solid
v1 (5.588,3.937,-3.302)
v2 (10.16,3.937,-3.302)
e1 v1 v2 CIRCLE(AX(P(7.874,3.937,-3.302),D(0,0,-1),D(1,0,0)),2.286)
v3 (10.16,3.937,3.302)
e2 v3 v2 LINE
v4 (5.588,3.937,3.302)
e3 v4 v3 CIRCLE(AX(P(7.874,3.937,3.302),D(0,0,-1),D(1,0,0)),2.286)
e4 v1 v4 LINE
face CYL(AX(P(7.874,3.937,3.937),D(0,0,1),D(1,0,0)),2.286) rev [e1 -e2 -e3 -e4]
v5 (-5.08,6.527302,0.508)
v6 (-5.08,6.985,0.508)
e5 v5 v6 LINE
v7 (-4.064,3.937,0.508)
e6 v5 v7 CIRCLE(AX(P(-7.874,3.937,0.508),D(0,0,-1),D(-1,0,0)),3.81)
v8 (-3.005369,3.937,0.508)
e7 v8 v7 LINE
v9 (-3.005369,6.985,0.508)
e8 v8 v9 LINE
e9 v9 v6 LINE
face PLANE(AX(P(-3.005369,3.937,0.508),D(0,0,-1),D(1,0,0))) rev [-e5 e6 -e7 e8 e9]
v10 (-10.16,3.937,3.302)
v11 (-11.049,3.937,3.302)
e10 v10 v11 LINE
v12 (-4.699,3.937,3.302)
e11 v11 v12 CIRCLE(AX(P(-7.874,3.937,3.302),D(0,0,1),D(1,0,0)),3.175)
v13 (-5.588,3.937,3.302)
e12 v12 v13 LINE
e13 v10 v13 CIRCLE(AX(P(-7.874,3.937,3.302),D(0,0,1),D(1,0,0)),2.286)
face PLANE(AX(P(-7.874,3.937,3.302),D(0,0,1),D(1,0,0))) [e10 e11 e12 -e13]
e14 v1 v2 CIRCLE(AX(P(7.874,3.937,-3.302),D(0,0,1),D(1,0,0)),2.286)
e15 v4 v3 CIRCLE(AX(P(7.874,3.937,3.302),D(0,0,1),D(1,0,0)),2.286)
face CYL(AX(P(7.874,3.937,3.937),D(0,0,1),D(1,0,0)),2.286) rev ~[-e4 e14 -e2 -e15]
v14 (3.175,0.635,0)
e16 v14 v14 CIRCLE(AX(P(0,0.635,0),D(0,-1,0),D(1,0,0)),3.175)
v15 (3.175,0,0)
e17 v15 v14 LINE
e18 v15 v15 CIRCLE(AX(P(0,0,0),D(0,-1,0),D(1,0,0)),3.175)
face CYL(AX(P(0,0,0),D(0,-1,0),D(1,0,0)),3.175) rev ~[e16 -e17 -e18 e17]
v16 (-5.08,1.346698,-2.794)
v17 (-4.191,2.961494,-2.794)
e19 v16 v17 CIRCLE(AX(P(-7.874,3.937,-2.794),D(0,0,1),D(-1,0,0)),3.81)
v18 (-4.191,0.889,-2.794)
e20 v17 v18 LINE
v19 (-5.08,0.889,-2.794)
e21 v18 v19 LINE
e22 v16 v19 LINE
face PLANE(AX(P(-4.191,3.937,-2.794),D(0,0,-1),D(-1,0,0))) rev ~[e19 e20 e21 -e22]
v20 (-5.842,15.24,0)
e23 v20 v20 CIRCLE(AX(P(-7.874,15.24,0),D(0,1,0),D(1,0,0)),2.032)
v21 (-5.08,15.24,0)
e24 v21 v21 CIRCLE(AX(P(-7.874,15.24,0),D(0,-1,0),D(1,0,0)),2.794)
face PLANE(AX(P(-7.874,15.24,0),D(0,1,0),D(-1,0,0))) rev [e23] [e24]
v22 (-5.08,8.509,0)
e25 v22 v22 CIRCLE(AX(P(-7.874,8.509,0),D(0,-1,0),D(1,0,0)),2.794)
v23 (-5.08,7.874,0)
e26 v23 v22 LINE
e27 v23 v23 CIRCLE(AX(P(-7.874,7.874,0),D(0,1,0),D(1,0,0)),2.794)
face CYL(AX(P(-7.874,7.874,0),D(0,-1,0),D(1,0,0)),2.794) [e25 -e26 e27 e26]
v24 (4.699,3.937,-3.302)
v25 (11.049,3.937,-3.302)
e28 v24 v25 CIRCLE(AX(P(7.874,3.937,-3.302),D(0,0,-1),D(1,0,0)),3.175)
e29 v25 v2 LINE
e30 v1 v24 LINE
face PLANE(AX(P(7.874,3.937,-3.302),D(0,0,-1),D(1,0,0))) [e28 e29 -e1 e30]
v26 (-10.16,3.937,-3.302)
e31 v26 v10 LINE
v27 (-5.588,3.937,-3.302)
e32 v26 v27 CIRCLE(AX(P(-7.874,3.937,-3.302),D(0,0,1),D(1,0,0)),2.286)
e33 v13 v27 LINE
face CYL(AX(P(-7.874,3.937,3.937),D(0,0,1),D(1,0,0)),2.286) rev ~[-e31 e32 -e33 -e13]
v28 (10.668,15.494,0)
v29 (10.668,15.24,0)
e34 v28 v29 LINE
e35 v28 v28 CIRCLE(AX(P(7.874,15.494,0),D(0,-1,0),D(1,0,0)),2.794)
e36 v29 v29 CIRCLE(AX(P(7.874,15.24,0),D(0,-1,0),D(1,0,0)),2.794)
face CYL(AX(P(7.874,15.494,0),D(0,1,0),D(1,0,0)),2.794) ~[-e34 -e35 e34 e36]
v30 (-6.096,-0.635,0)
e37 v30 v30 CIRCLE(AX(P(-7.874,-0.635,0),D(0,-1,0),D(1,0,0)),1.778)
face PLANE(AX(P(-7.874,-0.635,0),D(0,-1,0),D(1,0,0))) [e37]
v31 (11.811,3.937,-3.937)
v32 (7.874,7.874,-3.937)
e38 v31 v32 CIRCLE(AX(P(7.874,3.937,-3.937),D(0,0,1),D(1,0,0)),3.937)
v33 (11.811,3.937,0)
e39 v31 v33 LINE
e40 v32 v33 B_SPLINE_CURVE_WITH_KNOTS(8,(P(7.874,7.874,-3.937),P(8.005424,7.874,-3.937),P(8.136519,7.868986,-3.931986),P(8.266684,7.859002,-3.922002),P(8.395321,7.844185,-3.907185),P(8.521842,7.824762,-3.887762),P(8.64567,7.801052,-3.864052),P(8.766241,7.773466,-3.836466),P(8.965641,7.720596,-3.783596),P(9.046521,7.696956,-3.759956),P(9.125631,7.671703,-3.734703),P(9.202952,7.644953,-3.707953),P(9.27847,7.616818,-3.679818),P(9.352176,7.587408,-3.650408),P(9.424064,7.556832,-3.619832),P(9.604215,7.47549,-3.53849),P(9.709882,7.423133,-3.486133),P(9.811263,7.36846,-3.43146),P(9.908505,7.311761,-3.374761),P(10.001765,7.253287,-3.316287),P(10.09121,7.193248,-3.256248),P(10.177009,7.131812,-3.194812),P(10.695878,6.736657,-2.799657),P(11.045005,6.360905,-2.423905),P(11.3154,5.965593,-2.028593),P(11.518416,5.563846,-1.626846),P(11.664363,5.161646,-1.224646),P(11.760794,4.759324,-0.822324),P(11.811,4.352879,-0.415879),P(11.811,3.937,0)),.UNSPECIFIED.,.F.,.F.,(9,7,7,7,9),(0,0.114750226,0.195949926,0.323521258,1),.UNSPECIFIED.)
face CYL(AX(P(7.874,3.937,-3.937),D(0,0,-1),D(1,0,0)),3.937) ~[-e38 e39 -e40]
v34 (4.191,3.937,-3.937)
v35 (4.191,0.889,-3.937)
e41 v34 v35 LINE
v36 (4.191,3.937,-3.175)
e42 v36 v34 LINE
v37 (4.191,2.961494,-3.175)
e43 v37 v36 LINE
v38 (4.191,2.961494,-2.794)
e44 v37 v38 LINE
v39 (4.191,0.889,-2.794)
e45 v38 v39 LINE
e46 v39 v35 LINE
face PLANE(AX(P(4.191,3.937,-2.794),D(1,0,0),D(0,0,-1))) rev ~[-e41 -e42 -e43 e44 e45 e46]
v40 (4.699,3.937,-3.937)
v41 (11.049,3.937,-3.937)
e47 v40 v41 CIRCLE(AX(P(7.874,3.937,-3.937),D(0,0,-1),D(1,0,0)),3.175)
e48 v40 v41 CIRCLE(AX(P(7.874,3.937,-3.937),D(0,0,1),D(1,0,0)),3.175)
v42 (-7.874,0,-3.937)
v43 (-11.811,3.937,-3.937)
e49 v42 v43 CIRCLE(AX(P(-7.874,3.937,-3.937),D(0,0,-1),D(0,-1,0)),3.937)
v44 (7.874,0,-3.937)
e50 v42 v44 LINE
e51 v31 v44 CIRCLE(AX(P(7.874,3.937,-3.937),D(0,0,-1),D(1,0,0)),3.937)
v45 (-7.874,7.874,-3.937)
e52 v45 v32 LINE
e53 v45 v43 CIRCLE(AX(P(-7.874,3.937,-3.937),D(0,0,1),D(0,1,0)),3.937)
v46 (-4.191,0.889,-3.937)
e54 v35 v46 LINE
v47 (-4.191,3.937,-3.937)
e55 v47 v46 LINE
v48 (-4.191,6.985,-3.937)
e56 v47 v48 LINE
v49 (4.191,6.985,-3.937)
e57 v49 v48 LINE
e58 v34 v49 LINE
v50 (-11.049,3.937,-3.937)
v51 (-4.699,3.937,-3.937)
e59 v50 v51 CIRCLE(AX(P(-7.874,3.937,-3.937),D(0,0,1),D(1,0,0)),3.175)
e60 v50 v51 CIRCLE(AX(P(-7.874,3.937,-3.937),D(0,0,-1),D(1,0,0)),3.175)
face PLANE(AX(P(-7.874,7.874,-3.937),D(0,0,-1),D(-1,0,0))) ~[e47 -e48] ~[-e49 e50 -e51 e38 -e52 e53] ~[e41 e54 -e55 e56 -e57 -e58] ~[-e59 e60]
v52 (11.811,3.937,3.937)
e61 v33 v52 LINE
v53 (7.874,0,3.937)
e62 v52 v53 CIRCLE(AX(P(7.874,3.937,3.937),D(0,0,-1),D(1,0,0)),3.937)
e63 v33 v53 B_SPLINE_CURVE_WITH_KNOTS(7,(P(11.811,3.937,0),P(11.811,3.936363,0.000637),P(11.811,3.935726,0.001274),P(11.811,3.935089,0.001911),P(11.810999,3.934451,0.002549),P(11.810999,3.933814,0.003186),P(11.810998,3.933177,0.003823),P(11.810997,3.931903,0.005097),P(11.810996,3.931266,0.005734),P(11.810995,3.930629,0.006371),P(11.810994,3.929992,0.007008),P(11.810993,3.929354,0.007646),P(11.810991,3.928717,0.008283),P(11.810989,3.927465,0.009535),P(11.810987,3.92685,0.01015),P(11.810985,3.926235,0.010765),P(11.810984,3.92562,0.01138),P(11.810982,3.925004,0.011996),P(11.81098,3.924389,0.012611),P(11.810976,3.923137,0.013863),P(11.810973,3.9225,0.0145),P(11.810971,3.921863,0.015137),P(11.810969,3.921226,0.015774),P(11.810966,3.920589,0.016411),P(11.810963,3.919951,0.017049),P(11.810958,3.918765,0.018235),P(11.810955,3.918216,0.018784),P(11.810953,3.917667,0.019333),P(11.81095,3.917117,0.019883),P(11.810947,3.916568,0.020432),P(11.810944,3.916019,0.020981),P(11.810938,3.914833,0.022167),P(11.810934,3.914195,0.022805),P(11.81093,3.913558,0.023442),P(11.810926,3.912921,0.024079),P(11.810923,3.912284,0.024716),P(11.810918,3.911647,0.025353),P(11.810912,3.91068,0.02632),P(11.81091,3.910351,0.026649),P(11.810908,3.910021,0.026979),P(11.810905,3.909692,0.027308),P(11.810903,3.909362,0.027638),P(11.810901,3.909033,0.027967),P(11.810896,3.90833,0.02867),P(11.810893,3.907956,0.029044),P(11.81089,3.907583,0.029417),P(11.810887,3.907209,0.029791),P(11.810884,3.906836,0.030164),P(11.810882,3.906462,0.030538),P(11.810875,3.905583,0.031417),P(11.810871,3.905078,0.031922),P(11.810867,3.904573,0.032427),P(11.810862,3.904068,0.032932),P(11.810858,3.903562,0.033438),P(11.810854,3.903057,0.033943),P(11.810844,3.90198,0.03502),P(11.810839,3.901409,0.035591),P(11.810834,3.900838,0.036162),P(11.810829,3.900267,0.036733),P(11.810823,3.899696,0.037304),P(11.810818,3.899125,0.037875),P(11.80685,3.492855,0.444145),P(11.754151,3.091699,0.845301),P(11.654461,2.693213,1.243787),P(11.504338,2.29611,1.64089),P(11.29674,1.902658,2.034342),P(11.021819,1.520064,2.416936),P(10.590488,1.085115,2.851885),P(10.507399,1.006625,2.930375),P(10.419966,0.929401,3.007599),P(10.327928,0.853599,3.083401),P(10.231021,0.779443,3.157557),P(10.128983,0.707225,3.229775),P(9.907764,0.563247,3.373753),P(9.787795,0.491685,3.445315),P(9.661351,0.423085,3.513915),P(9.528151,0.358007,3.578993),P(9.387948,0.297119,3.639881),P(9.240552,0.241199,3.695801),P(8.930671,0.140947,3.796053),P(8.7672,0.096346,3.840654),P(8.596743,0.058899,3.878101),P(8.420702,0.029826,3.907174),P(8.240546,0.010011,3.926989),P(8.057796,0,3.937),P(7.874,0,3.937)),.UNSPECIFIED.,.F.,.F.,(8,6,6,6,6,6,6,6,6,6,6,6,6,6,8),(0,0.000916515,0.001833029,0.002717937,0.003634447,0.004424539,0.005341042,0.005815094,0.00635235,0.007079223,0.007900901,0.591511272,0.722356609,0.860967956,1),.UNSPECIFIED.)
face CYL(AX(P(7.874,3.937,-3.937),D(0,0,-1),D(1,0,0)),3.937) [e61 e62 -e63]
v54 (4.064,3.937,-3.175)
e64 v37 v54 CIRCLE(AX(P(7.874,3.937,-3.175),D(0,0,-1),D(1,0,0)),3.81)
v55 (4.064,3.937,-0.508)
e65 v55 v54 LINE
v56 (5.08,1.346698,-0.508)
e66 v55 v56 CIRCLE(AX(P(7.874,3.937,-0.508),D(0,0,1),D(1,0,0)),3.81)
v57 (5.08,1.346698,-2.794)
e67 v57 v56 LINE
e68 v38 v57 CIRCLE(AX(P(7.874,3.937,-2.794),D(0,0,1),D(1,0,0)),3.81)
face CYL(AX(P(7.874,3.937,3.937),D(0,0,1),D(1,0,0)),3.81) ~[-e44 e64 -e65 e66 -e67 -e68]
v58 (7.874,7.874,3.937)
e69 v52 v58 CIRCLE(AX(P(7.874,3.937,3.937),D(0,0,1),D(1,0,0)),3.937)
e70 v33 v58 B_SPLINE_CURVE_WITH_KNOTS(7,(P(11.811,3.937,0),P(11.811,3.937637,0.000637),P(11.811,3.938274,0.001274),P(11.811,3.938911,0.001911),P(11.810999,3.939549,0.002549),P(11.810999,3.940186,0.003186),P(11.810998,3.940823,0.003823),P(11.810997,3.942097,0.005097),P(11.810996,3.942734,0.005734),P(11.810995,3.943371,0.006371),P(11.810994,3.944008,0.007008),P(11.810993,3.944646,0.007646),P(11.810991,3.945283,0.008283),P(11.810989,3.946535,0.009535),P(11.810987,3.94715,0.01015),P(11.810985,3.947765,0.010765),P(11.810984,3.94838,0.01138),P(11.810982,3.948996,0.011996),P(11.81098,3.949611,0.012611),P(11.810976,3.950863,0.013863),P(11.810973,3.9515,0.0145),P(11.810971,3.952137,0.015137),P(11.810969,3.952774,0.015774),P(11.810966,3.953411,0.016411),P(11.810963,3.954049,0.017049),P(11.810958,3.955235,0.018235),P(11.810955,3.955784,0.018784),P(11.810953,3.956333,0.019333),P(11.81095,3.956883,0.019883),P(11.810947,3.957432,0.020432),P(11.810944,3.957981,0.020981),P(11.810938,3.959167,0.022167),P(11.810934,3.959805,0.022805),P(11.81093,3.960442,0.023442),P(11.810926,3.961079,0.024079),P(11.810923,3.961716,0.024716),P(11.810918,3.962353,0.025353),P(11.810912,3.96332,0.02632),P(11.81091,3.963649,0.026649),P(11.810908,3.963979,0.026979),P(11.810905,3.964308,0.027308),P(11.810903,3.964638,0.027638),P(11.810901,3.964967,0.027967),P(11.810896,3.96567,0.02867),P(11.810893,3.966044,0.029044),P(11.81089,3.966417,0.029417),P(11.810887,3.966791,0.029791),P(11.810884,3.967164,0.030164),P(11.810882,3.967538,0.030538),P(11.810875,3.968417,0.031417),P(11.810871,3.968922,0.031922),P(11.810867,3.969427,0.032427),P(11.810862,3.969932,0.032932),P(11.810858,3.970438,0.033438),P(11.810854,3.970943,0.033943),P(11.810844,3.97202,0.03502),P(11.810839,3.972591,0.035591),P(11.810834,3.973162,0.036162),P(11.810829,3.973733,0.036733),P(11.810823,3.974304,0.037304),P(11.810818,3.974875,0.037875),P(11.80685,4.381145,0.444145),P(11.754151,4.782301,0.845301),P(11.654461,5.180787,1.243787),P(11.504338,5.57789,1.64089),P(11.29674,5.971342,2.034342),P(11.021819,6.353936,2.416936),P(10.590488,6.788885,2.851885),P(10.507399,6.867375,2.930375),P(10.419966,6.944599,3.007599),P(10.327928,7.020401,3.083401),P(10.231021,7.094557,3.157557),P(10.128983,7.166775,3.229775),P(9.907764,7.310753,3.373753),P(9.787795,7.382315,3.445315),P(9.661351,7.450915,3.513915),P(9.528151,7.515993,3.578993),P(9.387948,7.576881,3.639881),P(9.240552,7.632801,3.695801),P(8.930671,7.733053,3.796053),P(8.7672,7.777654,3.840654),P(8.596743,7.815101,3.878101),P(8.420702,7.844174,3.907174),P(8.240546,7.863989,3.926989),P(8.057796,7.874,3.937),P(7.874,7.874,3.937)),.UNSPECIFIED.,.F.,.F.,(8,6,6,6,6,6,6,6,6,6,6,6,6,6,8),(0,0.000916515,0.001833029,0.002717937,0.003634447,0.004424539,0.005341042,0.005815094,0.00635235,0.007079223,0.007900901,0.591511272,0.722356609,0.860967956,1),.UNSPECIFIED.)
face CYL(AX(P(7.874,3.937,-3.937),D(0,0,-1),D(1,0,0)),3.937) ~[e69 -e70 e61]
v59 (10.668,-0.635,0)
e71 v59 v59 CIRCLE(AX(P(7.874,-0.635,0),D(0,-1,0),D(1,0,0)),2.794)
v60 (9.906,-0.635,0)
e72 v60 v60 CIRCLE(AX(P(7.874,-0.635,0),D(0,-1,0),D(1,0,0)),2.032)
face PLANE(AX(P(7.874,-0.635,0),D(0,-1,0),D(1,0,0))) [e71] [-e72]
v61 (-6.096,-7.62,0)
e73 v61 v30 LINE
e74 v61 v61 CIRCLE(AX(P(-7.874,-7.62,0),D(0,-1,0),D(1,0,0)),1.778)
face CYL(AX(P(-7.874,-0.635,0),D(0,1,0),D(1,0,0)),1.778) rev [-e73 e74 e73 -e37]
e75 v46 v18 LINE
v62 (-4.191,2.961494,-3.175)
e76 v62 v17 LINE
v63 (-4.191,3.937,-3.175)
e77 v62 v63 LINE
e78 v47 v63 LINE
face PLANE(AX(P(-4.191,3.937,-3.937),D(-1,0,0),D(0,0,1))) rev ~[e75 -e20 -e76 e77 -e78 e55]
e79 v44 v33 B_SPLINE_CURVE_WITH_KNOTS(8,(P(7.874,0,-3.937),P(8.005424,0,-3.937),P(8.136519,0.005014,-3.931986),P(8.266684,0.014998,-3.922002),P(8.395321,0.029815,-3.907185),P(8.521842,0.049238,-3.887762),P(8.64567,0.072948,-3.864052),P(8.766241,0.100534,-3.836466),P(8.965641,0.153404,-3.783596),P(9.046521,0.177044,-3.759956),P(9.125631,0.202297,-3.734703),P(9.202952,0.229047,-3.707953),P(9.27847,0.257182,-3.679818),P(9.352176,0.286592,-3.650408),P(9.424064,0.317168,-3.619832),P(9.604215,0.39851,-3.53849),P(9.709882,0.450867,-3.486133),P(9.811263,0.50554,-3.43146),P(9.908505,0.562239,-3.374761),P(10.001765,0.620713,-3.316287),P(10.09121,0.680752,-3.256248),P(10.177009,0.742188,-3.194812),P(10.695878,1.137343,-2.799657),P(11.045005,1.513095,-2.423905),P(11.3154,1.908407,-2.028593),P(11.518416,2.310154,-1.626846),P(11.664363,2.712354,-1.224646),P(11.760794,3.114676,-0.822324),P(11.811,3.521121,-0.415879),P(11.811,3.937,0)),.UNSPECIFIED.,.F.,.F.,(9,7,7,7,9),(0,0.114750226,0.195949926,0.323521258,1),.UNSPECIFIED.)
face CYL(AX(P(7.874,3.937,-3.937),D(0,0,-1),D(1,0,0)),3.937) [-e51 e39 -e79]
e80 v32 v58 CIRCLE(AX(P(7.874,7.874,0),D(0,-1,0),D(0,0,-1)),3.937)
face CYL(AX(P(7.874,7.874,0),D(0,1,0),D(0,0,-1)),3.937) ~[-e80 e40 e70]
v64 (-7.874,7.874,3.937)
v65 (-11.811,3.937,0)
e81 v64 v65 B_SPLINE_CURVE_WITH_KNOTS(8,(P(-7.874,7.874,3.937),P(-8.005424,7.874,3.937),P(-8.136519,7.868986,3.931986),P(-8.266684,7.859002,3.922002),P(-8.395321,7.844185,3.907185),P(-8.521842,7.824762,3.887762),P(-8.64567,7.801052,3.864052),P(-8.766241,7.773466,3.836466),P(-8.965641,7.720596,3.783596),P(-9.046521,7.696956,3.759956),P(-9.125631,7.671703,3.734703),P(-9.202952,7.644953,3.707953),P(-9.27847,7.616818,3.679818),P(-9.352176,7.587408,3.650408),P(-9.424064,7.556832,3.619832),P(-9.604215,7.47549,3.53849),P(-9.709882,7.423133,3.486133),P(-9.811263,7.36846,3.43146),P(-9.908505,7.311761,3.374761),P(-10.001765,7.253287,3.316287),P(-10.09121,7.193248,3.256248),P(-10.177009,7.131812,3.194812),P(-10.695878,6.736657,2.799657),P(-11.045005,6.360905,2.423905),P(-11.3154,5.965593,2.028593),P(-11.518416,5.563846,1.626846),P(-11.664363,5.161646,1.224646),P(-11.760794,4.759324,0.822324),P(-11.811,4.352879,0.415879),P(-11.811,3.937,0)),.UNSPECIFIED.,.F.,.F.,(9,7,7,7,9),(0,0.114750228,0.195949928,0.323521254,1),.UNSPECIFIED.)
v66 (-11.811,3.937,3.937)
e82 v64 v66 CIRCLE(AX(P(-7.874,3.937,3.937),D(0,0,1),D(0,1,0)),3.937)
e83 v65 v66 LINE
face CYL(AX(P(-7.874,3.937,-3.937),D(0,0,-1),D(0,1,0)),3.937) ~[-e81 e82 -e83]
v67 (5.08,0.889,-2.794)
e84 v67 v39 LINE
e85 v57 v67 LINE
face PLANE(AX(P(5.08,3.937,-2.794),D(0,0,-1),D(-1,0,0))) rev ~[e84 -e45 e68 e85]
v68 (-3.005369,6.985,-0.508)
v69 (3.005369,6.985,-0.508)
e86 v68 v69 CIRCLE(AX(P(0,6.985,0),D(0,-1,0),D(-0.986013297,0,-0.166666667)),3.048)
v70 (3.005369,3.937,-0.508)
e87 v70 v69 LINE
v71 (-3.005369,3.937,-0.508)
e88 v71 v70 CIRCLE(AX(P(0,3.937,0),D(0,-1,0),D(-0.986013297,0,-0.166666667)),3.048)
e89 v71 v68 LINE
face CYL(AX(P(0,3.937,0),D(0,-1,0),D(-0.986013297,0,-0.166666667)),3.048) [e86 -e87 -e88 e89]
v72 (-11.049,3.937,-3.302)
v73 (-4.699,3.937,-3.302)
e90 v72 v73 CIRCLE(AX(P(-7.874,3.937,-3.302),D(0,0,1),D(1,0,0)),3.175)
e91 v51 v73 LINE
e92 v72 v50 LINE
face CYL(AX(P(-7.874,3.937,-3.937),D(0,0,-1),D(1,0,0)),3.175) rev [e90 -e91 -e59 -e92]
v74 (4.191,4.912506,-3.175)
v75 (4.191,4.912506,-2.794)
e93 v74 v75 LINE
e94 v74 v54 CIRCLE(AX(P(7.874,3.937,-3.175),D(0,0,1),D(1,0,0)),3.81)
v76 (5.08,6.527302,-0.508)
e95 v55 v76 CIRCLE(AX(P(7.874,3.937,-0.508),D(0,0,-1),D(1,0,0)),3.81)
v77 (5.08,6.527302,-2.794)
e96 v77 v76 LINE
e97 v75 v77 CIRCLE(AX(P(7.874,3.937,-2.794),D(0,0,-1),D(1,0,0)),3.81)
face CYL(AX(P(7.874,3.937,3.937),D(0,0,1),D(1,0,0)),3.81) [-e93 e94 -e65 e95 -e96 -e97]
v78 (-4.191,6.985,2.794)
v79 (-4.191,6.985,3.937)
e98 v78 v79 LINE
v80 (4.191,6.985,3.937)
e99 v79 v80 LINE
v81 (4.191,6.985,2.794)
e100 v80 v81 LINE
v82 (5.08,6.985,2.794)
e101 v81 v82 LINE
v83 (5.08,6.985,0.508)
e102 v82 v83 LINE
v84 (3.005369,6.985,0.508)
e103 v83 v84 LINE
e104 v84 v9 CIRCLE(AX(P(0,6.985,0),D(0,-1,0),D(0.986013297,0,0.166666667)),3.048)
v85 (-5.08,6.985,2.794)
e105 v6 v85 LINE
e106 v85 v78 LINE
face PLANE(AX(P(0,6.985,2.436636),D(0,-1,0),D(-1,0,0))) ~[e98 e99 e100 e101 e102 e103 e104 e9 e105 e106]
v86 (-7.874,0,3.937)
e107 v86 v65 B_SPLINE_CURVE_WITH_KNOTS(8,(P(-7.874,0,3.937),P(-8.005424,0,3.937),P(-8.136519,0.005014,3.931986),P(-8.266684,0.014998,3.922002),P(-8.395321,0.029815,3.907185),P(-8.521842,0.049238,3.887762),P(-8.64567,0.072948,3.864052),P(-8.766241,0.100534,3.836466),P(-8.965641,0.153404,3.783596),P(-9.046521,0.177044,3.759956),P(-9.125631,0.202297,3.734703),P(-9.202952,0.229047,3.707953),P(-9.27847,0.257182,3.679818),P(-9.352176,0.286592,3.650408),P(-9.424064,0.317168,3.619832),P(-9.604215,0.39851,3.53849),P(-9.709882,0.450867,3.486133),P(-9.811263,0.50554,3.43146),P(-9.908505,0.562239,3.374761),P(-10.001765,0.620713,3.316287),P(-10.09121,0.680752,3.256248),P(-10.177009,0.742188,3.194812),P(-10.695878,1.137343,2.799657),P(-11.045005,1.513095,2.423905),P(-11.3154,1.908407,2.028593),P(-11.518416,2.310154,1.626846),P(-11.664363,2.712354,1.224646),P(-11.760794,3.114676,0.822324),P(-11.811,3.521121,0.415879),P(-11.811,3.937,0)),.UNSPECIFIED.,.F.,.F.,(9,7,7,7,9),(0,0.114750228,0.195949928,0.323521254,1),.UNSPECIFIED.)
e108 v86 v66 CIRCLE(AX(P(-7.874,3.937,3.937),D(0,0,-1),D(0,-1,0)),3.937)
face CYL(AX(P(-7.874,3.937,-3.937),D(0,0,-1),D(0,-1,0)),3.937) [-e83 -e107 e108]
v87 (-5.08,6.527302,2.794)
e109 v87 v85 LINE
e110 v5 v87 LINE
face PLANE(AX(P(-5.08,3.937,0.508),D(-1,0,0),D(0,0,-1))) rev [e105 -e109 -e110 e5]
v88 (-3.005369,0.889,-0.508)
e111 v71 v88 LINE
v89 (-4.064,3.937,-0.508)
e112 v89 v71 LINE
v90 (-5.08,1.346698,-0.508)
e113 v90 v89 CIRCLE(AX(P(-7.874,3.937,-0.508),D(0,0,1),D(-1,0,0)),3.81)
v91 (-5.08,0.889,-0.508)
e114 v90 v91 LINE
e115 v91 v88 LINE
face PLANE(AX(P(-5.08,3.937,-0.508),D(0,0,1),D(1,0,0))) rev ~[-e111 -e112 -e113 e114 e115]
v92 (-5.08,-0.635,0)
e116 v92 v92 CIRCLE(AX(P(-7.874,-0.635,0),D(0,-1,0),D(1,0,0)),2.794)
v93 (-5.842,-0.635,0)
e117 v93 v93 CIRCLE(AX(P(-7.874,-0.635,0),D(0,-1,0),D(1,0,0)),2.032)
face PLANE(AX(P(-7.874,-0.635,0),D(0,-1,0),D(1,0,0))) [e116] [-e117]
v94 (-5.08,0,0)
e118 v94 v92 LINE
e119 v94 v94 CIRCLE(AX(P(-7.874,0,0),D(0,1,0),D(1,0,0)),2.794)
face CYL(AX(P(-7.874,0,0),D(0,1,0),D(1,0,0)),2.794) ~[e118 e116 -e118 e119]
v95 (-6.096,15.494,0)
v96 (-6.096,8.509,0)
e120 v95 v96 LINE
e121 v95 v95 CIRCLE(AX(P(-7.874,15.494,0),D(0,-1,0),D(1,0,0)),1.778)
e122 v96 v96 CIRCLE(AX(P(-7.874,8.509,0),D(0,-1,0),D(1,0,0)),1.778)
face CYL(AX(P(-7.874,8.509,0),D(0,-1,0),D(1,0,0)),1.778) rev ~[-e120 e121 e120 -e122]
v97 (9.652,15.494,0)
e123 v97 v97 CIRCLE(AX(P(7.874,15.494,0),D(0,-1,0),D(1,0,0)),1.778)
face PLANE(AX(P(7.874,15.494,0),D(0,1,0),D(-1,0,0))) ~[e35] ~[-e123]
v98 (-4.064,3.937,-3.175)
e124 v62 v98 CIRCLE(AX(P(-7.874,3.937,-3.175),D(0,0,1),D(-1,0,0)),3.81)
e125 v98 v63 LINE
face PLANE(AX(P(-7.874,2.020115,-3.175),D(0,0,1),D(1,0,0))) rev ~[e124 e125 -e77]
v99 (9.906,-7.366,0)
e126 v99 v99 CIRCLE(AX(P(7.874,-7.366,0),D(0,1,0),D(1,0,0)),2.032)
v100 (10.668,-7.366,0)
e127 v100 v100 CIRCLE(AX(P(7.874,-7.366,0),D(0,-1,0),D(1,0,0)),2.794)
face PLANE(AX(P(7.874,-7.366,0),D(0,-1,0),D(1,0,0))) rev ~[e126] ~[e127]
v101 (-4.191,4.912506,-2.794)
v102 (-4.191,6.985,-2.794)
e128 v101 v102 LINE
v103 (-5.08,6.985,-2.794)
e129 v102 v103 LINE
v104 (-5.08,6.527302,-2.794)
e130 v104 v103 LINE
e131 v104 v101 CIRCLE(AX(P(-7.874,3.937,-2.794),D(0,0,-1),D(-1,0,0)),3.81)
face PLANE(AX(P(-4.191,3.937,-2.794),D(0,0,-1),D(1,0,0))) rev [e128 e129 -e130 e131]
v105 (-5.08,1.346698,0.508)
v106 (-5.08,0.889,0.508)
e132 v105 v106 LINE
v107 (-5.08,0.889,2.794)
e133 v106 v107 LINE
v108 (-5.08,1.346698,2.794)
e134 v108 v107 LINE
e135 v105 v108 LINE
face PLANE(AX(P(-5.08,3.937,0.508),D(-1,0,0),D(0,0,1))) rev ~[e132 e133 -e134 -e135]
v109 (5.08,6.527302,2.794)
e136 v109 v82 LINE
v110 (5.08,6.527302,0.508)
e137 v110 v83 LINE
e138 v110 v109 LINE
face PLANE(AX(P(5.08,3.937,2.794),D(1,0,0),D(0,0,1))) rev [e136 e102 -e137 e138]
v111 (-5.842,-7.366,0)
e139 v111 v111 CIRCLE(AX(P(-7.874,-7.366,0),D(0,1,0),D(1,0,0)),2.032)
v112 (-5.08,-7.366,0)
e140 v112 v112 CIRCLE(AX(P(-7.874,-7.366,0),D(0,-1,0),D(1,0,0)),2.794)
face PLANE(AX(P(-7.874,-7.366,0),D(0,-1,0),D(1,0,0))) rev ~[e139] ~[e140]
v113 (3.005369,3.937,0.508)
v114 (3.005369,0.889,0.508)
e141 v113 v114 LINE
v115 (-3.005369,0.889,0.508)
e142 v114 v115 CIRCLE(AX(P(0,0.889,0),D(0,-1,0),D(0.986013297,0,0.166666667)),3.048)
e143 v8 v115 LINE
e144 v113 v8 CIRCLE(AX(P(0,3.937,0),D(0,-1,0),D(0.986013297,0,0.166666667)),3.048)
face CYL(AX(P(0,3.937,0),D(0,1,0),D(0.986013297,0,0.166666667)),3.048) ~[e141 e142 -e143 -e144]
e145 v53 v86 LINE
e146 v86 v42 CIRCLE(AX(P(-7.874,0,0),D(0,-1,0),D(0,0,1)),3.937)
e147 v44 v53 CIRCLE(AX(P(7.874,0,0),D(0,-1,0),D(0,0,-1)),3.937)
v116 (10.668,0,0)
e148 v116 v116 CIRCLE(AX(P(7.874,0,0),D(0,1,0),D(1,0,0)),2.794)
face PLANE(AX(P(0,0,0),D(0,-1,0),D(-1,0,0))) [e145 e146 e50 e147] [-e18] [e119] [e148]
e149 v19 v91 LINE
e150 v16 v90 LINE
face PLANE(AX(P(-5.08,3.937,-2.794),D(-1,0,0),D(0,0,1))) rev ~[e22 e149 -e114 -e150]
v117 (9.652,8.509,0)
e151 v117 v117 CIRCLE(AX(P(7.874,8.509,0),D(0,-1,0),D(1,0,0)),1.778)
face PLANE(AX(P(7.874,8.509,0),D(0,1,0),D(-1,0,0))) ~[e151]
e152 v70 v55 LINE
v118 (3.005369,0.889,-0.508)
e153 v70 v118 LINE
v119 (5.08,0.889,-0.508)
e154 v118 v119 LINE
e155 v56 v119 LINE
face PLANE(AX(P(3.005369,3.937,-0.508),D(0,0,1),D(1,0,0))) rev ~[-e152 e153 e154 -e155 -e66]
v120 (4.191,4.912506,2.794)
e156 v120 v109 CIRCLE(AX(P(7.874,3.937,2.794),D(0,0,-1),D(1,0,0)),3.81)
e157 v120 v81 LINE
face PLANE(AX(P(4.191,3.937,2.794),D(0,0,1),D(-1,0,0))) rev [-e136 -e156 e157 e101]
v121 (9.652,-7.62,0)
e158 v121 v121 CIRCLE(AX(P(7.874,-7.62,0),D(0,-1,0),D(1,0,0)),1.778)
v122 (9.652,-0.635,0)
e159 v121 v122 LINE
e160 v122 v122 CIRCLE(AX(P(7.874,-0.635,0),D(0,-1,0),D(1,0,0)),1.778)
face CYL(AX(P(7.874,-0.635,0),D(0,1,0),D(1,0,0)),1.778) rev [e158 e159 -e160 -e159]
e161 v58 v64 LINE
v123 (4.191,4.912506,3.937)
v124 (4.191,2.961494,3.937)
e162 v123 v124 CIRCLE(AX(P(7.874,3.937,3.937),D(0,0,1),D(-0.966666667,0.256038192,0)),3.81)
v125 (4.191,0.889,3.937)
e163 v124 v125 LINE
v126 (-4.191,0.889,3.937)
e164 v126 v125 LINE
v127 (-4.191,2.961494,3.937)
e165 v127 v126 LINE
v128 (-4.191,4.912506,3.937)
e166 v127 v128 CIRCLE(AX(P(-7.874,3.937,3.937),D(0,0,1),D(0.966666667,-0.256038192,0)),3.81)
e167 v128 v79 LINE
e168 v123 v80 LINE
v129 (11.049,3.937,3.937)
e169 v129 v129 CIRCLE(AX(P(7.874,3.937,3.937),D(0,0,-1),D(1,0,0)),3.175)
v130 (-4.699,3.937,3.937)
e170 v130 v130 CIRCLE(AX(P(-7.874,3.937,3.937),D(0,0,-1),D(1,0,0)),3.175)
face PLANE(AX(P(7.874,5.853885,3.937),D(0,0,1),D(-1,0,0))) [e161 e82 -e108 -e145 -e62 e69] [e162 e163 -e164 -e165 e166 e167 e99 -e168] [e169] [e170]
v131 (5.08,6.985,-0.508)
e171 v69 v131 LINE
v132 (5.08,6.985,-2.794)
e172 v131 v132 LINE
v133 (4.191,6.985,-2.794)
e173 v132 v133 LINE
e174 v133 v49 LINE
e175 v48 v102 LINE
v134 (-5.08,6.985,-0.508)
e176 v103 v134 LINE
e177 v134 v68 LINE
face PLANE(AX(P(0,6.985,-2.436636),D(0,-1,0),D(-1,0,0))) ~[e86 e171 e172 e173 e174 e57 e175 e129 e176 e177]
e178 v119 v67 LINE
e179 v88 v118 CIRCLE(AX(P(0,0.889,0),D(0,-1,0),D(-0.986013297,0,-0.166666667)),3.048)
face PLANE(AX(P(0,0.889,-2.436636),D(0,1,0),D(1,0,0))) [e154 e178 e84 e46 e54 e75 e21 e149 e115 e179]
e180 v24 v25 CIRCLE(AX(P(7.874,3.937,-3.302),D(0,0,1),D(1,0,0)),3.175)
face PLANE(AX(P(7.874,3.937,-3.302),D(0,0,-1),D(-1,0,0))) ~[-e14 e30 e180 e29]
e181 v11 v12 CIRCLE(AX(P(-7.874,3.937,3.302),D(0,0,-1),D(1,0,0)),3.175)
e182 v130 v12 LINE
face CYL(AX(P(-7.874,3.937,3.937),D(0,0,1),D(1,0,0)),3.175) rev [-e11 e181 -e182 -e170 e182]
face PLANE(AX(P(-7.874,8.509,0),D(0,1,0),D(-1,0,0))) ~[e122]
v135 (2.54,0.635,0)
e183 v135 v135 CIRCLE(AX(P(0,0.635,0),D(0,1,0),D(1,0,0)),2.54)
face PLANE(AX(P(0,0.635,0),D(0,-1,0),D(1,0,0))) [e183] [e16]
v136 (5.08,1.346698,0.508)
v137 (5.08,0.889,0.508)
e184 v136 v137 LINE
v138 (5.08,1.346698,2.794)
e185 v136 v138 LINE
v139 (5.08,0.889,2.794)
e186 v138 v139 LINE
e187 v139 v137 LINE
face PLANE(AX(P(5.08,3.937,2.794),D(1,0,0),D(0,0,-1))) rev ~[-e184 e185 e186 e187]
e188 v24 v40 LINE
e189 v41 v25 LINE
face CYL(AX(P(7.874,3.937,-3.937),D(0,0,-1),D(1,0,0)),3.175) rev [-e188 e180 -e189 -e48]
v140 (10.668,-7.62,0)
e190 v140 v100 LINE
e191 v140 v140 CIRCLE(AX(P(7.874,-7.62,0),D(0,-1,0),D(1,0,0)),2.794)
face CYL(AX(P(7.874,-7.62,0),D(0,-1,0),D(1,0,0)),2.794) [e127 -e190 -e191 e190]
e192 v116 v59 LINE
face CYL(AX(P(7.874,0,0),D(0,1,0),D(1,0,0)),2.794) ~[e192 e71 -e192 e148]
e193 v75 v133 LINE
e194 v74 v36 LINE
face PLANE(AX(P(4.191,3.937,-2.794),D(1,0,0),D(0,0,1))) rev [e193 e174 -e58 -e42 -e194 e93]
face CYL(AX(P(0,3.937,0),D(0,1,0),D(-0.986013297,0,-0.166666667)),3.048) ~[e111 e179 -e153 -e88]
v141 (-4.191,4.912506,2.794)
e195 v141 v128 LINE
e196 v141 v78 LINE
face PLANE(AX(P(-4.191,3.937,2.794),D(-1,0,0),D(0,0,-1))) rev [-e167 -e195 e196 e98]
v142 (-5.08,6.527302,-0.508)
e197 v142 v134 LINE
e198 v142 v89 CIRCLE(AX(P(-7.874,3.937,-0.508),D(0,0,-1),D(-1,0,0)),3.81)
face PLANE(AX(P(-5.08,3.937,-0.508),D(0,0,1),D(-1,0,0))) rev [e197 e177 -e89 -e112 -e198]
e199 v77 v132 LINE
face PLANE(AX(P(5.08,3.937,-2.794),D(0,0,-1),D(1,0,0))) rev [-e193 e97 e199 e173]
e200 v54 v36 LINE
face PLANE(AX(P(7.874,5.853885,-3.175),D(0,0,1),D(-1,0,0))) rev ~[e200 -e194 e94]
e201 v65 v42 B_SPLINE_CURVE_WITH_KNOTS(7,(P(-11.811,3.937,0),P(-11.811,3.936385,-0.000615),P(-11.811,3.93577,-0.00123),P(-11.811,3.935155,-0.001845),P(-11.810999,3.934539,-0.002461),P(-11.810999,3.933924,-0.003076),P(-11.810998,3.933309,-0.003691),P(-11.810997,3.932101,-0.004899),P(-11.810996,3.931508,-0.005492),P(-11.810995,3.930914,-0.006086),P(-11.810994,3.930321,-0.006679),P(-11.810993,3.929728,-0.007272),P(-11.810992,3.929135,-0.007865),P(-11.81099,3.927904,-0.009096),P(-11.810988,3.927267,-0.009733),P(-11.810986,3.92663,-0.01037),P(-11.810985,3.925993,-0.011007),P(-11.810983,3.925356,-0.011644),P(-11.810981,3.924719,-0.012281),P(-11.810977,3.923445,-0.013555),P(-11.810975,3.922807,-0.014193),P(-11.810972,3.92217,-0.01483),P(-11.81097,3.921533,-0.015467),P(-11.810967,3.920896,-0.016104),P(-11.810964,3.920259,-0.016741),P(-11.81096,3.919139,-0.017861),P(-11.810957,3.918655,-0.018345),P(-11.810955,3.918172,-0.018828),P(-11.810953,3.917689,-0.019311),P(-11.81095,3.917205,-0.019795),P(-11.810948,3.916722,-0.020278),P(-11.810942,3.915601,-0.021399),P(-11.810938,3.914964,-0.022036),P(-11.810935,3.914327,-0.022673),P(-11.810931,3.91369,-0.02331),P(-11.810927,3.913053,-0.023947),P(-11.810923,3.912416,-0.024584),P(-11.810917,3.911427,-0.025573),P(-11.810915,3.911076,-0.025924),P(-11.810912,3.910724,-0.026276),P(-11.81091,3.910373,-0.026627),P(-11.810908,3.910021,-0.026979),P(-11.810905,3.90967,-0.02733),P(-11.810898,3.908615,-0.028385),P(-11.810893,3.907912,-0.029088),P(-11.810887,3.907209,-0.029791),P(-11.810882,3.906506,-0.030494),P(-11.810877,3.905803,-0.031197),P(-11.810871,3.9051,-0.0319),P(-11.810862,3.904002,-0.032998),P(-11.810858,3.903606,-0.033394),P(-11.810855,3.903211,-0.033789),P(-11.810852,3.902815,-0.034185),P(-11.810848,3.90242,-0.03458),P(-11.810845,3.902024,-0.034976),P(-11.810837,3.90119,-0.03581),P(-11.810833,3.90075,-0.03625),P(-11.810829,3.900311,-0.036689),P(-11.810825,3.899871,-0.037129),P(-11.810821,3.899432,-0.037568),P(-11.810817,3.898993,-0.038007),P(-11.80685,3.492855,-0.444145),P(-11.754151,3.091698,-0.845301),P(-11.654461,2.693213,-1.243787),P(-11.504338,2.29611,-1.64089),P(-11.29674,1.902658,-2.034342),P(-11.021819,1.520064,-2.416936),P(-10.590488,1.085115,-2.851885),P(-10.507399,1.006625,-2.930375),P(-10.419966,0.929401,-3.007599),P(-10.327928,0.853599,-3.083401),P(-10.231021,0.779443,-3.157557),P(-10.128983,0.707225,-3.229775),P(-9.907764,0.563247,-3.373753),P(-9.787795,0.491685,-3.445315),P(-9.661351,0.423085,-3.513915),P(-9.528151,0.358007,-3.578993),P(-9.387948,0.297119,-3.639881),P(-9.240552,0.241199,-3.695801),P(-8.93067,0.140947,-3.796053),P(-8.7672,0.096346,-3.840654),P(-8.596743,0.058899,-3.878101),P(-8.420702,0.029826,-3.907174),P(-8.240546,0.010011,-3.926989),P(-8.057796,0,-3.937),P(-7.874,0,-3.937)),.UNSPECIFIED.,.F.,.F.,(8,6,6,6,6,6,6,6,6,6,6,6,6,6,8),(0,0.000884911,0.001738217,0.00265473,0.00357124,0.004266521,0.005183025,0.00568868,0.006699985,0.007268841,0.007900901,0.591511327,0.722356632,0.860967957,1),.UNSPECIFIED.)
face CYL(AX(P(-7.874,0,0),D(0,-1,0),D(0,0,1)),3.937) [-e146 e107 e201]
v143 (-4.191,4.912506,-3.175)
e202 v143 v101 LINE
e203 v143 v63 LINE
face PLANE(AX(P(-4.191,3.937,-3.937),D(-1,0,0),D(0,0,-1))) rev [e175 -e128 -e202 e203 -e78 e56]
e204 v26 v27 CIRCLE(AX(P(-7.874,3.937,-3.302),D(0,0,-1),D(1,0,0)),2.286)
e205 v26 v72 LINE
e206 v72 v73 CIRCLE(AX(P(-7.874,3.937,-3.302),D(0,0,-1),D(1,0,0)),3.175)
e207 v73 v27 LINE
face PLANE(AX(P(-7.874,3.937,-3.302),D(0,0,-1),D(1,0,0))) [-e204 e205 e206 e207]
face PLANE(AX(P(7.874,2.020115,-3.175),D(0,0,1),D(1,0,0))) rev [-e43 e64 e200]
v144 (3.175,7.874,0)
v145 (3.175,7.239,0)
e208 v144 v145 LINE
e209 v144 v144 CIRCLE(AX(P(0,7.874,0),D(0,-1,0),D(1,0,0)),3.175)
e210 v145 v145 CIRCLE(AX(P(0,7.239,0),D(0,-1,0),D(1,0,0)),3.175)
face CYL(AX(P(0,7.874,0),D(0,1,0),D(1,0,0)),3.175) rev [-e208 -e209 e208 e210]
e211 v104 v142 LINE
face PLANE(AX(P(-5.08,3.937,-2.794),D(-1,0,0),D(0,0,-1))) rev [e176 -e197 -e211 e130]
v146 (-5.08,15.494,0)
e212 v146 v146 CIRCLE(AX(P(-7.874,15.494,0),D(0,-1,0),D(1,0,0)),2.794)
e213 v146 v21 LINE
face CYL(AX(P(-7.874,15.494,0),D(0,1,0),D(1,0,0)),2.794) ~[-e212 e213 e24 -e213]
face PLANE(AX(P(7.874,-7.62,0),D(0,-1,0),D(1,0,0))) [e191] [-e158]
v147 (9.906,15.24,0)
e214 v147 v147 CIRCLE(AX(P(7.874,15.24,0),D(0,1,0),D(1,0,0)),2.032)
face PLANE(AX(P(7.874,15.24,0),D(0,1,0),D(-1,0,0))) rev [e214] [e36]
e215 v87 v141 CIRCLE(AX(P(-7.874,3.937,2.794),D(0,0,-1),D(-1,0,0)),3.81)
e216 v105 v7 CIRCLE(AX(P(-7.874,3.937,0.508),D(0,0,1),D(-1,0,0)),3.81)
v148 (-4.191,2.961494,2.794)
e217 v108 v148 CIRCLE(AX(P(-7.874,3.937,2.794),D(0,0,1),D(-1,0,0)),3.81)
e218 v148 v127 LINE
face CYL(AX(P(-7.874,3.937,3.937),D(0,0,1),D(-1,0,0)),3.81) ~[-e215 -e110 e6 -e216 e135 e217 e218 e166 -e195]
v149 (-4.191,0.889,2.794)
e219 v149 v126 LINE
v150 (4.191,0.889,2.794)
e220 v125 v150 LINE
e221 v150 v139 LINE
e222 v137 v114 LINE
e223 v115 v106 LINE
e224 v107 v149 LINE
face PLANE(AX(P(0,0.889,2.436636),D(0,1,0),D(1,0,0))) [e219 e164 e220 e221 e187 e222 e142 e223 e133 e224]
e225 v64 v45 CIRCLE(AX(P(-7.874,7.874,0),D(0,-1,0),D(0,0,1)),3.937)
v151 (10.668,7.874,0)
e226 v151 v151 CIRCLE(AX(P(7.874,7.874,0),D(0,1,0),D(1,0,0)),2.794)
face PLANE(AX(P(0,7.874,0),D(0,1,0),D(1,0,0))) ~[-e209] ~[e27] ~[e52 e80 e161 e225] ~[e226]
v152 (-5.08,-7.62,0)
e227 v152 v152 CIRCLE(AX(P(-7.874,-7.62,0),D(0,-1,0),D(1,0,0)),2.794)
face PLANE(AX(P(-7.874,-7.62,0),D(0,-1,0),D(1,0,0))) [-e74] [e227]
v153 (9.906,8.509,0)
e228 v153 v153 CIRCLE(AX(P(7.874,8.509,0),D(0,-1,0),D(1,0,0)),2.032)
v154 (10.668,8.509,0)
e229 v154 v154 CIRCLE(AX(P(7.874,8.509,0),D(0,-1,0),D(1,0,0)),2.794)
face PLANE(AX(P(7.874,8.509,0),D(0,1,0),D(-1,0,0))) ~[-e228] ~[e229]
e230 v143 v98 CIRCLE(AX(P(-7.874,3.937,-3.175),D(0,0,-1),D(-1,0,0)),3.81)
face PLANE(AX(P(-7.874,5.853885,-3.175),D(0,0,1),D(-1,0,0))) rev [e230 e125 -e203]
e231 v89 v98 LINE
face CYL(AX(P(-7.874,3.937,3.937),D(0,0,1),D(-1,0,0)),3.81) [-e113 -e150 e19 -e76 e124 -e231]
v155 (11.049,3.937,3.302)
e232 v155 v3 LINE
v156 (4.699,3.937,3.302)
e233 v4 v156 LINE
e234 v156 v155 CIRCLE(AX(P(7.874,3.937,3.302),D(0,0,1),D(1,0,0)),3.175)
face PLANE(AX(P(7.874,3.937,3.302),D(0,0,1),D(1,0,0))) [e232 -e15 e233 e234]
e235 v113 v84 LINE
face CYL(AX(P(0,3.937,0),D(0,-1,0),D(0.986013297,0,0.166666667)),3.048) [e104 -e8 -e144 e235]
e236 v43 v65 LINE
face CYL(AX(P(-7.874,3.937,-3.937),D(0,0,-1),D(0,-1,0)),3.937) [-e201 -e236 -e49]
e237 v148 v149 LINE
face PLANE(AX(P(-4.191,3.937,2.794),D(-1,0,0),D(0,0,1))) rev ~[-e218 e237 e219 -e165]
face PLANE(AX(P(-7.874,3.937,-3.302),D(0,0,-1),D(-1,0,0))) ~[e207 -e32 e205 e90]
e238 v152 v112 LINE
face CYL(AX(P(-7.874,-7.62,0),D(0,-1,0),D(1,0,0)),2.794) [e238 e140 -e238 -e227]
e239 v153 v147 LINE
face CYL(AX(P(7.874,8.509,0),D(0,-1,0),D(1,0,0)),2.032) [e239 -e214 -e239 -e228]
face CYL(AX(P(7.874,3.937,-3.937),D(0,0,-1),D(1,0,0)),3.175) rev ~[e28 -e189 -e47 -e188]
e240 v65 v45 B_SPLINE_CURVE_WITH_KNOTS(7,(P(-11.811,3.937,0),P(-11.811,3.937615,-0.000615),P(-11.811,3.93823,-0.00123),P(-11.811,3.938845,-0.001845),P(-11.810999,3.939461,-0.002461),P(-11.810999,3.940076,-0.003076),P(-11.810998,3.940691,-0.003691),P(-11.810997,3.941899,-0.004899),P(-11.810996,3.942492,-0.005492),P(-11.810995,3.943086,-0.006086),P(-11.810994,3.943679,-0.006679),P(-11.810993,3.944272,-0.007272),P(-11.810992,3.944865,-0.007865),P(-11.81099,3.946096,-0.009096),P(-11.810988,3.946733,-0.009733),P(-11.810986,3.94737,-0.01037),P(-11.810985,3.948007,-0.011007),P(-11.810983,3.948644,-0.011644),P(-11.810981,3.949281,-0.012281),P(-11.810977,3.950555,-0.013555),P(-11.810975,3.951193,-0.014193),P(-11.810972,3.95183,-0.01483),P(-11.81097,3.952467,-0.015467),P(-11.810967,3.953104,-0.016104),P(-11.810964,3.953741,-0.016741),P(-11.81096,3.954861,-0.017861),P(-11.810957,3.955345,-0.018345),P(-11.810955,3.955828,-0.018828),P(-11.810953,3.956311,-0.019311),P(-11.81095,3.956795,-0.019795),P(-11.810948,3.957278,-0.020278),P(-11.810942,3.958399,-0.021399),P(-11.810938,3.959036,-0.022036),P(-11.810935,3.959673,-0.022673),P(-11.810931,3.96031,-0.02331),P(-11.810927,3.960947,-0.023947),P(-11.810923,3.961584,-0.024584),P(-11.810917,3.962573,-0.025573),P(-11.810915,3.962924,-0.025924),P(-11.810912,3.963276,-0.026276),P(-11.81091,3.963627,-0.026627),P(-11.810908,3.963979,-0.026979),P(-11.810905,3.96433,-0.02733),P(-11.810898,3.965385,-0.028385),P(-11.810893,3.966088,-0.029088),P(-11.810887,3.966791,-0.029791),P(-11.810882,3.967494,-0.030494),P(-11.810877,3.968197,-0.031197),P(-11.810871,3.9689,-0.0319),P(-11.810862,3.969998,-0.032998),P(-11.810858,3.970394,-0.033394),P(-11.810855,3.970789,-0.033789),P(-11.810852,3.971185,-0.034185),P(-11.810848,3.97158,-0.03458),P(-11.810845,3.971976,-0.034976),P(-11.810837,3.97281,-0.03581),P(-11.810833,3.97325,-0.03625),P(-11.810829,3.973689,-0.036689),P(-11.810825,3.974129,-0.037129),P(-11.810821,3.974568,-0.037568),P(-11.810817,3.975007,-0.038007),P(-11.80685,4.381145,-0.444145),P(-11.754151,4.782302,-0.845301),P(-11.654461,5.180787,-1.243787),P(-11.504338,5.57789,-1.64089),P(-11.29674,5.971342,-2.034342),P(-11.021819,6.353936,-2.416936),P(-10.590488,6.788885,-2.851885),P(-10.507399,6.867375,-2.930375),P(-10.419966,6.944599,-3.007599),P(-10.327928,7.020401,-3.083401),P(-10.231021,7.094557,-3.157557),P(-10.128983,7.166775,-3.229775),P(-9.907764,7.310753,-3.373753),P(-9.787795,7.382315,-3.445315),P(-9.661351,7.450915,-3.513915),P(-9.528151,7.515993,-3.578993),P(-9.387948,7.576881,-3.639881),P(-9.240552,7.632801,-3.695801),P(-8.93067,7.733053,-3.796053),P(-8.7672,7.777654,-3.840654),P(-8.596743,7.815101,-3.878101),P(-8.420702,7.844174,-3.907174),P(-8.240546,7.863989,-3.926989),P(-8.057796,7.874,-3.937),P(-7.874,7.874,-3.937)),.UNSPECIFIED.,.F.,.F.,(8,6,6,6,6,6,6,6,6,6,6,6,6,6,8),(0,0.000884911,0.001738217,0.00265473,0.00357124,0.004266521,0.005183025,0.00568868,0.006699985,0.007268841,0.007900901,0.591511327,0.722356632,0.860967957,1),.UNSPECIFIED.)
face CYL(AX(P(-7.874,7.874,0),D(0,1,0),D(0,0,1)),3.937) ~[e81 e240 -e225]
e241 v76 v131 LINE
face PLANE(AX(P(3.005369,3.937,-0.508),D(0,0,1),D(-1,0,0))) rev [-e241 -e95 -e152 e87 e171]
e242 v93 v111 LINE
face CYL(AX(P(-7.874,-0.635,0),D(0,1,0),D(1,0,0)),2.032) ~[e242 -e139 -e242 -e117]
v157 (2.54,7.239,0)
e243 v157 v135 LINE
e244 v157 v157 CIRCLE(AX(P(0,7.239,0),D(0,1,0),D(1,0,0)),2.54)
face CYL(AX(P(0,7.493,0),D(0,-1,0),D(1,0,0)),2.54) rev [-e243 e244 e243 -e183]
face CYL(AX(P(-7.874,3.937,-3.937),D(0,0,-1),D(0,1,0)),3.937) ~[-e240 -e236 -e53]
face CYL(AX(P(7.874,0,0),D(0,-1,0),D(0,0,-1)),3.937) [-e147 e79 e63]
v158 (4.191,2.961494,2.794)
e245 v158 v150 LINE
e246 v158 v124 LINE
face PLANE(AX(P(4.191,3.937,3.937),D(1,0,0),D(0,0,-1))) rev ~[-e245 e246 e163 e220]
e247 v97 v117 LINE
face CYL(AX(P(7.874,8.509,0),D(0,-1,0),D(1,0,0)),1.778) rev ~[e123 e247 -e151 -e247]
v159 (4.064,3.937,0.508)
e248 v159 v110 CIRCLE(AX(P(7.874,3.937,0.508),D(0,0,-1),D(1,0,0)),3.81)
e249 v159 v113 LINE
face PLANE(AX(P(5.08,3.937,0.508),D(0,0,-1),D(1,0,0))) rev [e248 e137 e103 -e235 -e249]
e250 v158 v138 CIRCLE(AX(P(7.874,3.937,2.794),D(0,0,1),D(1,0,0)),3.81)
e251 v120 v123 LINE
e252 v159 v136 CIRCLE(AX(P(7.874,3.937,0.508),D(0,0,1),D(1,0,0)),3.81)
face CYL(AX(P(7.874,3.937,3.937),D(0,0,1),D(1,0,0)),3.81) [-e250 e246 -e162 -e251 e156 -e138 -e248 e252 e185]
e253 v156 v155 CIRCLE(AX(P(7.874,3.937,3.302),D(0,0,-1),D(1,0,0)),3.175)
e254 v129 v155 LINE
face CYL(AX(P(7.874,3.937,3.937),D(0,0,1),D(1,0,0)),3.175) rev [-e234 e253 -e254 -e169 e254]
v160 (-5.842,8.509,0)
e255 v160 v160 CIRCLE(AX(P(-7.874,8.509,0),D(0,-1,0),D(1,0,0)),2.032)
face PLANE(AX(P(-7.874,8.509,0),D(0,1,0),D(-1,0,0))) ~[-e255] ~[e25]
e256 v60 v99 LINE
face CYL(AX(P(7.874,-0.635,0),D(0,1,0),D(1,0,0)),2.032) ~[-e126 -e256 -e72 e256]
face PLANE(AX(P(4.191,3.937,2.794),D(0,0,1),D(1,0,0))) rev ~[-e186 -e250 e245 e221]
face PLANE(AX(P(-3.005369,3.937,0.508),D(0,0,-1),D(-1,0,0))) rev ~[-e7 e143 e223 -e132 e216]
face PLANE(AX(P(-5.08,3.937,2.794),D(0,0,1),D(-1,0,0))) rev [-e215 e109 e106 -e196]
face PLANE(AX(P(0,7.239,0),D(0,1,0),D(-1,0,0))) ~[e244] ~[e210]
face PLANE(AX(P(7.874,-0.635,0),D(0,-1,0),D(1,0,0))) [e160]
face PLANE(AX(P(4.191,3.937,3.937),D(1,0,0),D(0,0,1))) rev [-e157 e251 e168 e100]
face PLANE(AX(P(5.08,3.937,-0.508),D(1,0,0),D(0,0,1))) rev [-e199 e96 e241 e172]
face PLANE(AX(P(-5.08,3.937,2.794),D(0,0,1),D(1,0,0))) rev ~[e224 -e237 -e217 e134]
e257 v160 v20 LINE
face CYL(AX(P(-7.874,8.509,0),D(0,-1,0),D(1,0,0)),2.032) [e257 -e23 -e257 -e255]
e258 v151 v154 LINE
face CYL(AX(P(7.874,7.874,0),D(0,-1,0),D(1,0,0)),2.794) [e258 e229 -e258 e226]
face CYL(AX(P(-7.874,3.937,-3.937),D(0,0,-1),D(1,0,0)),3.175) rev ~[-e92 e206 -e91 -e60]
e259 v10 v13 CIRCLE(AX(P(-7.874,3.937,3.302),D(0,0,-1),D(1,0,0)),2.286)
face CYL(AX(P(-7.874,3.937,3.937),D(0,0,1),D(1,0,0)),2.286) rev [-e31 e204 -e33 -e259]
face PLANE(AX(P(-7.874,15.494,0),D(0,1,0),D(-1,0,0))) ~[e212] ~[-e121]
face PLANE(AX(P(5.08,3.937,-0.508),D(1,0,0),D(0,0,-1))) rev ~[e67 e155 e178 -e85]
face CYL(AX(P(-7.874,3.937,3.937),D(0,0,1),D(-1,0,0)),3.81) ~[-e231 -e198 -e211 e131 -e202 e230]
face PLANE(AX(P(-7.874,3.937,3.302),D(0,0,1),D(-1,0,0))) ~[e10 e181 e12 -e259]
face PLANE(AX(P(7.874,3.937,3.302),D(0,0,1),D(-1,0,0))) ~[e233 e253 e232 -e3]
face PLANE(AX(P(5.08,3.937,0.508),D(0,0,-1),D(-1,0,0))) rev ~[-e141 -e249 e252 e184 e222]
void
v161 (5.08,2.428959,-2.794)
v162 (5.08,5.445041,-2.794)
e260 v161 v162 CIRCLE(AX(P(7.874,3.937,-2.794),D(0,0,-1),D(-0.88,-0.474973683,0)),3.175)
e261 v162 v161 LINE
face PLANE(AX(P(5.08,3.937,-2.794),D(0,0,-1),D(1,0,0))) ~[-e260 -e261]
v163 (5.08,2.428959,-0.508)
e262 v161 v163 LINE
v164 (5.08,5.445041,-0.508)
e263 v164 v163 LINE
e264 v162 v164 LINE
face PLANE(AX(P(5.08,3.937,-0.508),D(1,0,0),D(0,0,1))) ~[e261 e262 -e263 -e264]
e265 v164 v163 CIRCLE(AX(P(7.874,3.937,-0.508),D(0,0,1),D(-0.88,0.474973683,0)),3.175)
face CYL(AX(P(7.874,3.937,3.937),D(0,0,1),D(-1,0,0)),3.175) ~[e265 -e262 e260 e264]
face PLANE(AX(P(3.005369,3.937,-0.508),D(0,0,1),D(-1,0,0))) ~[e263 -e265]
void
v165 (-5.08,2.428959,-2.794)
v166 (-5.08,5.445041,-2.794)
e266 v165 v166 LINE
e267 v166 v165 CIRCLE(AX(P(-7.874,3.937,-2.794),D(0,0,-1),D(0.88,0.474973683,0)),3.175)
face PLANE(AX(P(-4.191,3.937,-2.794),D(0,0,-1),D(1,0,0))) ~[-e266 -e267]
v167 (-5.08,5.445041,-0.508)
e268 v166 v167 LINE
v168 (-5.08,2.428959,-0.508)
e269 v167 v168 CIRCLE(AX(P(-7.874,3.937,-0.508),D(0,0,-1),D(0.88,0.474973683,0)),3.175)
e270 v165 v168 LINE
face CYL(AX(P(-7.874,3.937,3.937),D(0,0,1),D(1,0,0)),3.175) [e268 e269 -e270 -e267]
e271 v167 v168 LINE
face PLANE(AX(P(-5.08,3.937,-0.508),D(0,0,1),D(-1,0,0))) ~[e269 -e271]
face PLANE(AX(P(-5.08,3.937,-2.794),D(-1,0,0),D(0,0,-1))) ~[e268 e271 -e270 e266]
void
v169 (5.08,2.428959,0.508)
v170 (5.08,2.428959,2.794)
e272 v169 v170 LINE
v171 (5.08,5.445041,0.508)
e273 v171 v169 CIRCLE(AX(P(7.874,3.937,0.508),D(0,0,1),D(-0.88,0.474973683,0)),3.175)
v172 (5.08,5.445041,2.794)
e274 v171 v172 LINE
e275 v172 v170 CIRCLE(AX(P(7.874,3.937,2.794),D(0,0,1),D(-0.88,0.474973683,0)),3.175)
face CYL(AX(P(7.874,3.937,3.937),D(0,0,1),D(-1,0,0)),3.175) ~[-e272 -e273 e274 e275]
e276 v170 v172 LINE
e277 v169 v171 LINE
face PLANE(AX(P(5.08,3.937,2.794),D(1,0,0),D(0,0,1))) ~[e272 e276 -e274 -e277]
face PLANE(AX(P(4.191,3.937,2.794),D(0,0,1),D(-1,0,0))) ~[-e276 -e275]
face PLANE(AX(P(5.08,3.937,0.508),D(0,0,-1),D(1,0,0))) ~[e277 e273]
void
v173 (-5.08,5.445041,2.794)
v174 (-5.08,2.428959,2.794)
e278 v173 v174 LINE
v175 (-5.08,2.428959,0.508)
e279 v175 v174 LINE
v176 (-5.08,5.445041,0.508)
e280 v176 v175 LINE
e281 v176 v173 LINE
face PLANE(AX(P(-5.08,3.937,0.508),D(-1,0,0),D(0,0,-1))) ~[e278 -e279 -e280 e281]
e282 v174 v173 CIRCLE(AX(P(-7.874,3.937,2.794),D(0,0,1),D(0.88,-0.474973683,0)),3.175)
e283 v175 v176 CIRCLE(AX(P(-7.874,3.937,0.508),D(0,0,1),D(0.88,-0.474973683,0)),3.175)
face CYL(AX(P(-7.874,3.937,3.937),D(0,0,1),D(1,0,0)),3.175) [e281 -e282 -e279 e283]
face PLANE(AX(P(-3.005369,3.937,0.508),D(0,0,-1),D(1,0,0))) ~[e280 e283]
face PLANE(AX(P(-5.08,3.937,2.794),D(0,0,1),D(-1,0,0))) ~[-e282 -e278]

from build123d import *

# Parameters (mm, degrees)
EXTRUDE1_DEPTH     = 3.937
SKETCH2_R          = 2.794
CUT_EXTRUDE1_DEPTH = 0.254
SKETCH3_R          = 2.794
EXTRUDE2_DEPTH     = 0.635
SKETCH5_R          = 2.032
SKETCH5_R_2        = 1.778
EXTRUDE4_DEPTH     = 6.985
SKETCH6_R          = 2.794
SKETCH6_R_2        = 1.778
EXTRUDE5_DEPTH     = 0.254
EXTRUDE6_DEPTH     = 7.874
SKETCH8_R          = 2.54
CUT_EXTRUDE2_DEPTH = 3.556
SKETCH9_R          = 2.286
CUT_EXTRUDE3_DEPTH = 8.874
SKETCH10_R         = 3.175
CUT_EXTRUDE4_DEPTH = 0.635
CUT_EXTRUDE6_DEPTH = 3.048
SKETCH13_R         = 2.54
CUT_EXTRUDE7_DEPTH = 9.001
SKETCH14_R         = 3.175
CUT_EXTRUDE8_DEPTH = 0.635
EXTRUDE8_DEPTH     = 7.112


with BuildPart() as part:
    # Sketch1 → Extrude1 (new body)
    with BuildSketch(Plane(origin=(0, 0, 0), x_dir=(1, 0, 0), z_dir=(0, 1, 0))):
        with BuildLine():
            Line((-7.874, 3.937), (7.874, 3.937))
            ThreePointArc((7.874, 3.937), (11.811, 0), (7.874, -3.937))
            Line((7.874, -3.937), (-7.874, -3.937))
            ThreePointArc((-7.874, -3.937), (-11.811, 0), (-7.874, 3.937))
        make_face()
    extrude(amount=EXTRUDE1_DEPTH)

    # Sketch2 → Cut-Extrude1 (cut)
    with BuildSketch(Plane.XZ):
        Circle(SKETCH2_R)
    extrude(amount=-CUT_EXTRUDE1_DEPTH, mode=Mode.SUBTRACT)

    # Sketch3 → Extrude2 (add)
    with BuildSketch(Plane.XZ):
        with Locations((7.874, 0)):
            Circle(SKETCH3_R)
        with Locations((-7.874, 0)):
            Circle(SKETCH3_R)
    extrude(amount=EXTRUDE2_DEPTH)

    # Sketch5 → Extrude4 (add)
    with BuildSketch(Plane.XZ.offset(0.635)):
        with Locations((7.874, 0)):
            Circle(SKETCH5_R)
        with Locations((7.874, 0)):
            Circle(SKETCH5_R_2, mode=Mode.SUBTRACT)
        with Locations((-7.874, 0)):
            Circle(SKETCH5_R)
        with Locations((-7.874, 0)):
            Circle(SKETCH5_R_2, mode=Mode.SUBTRACT)
    extrude(amount=EXTRUDE4_DEPTH)

    # Sketch6 → Extrude5 (add)
    with BuildSketch(Plane.XZ.offset(7.62)):
        with Locations((-7.874, 0)):
            Circle(SKETCH6_R)
        with Locations((-7.874, 0)):
            Circle(SKETCH6_R_2, mode=Mode.SUBTRACT)
        with Locations((7.874, 0)):
            Circle(SKETCH6_R)
        with Locations((7.874, 0)):
            Circle(SKETCH6_R_2, mode=Mode.SUBTRACT)
    extrude(amount=-EXTRUDE5_DEPTH)

    # Sketch7 → Extrude6 (add)
    with BuildSketch(Plane(origin=(0, 0, -3.937), x_dir=(-1, 0, 0), z_dir=(0, 0, -1))):
        with BuildLine():
            Line((-7.874, 0), (7.874, 0))
            ThreePointArc((7.874, 0), (10.657879398, 1.153120602), (11.811, 3.937))
            Line((11.811, 3.937), (7.874, 3.937))
            Line((7.874, 3.937), (-7.874, 3.937))
            Line((-7.874, 3.937), (-11.811, 3.937))
            ThreePointArc((-11.811, 3.937), (-10.657879398, 1.153120602), (-7.874, 0))
        make_face()
    extrude(amount=-EXTRUDE6_DEPTH)

    # Sketch8 → Cut-Extrude2 (cut)
    with BuildSketch(Plane(origin=(0, 3.937, 0), x_dir=(1, 0, 0), z_dir=(0, 1, 0))):
        Circle(SKETCH8_R)
    extrude(amount=-CUT_EXTRUDE2_DEPTH, mode=Mode.SUBTRACT)

    # Sketch9 → Cut-Extrude3 (cut, through all)
    with BuildSketch(Plane.XY.offset(3.937)):
        with Locations((7.874, 3.937)):
            Circle(SKETCH9_R)
        with Locations((-7.874, 3.937)):
            Circle(SKETCH9_R)
    extrude(amount=-CUT_EXTRUDE3_DEPTH, mode=Mode.SUBTRACT)

    # Sketch10 → Cut-Extrude4 (cut)
    with BuildSketch(Plane.XY.offset(3.937)):
        with Locations((7.874, 3.937)):
            Circle(SKETCH10_R)
        with Locations((-7.874, 3.937)):
            Circle(SKETCH10_R)
    cut_extrude4 = extrude(amount=-CUT_EXTRUDE4_DEPTH, mode=Mode.SUBTRACT)

    # Mirror2: Cut-Extrude4 across plane
    add(cut_extrude4.mirror(Plane.XY), mode=Mode.SUBTRACT)

    # Sketch11 → Cut-Extrude6 (cut)
    with BuildSketch(Plane(origin=(0, 3.937, 0), x_dir=(1, 0, 0), z_dir=(0, 1, 0))):
        with BuildLine():
            Line((-5.08, -0.508), (-5.08, -2.794))
            Line((-5.08, -2.794), (-4.191, -2.794))
            Line((-4.191, -2.794), (-4.191, -3.937))
            Line((-4.191, -3.937), (4.191, -3.937))
            Line((4.191, -3.937), (4.191, -2.794))
            Line((4.191, -2.794), (5.08, -2.794))
            Line((5.08, -2.794), (5.08, -0.508))
            Line((5.08, -0.508), (3.00536853, -0.508))
            ThreePointArc((3.00536853, -0.508), (0, -3.048), (-3.00536853, -0.508))
            Line((-3.00536853, -0.508), (-5.08, -0.508))
        make_face()
        with BuildLine():
            Line((5.08, 0.508), (5.08, 2.794))
            Line((5.08, 2.794), (4.191, 2.794))
            Line((4.191, 2.794), (4.191, 3.937))
            Line((4.191, 3.937), (-4.191, 3.937))
            Line((-4.191, 3.937), (-4.191, 2.794))
            Line((-4.191, 2.794), (-5.08, 2.794))
            Line((-5.08, 2.794), (-5.08, 0.508))
            Line((-5.08, 0.508), (-3.00536853, 0.508))
            ThreePointArc((-3.00536853, 0.508), (0, 3.048), (3.00536853, 0.508))
            Line((3.00536853, 0.508), (5.08, 0.508))
        make_face()
    extrude(amount=-CUT_EXTRUDE6_DEPTH, mode=Mode.SUBTRACT)

    # Sketch13 → Cut-Extrude7 (cut, through all)
    with BuildSketch(Plane(origin=(0, 0.381, 0), x_dir=(1, 0, 0), z_dir=(0, 1, 0))):
        Circle(SKETCH13_R)
    extrude(amount=-CUT_EXTRUDE7_DEPTH, mode=Mode.SUBTRACT)

    # Sketch14 → Cut-Extrude8 (cut)
    with BuildSketch(Plane.XZ):
        Circle(SKETCH14_R)
    extrude(amount=-CUT_EXTRUDE8_DEPTH, mode=Mode.SUBTRACT)

    # Sketch17 → Extrude8 (add)
    with BuildSketch(Plane.XY.offset(3.937)):
        with BuildLine():
            Line((-4.064, 3.937), (-4.699, 3.937))
            ThreePointArc((-4.699, 3.937), (-7.874, 0.762), (-11.049, 3.937))
            Line((-11.049, 3.937), (-11.684, 3.937))
            ThreePointArc((-11.684, 3.937), (-7.874, 0.127), (-4.064, 3.937))
        make_face()
    extrude8 = extrude(amount=-EXTRUDE8_DEPTH)

    # Mirror3: Extrude8 across plane
    add(extrude8.mirror(Plane(origin=(0, 0, 0), x_dir=(0, 0, 1), z_dir=(1, 0, 0))))

    # Mirror1: part across face


with BuildPart() as part_1:
    add(part.part)
    add(part.part.mirror(Plane(origin=(0, 3.937, 0.023671087), x_dir=(0, 0, 1), z_dir=(0, 1, 0))))


solid = part_1.part
